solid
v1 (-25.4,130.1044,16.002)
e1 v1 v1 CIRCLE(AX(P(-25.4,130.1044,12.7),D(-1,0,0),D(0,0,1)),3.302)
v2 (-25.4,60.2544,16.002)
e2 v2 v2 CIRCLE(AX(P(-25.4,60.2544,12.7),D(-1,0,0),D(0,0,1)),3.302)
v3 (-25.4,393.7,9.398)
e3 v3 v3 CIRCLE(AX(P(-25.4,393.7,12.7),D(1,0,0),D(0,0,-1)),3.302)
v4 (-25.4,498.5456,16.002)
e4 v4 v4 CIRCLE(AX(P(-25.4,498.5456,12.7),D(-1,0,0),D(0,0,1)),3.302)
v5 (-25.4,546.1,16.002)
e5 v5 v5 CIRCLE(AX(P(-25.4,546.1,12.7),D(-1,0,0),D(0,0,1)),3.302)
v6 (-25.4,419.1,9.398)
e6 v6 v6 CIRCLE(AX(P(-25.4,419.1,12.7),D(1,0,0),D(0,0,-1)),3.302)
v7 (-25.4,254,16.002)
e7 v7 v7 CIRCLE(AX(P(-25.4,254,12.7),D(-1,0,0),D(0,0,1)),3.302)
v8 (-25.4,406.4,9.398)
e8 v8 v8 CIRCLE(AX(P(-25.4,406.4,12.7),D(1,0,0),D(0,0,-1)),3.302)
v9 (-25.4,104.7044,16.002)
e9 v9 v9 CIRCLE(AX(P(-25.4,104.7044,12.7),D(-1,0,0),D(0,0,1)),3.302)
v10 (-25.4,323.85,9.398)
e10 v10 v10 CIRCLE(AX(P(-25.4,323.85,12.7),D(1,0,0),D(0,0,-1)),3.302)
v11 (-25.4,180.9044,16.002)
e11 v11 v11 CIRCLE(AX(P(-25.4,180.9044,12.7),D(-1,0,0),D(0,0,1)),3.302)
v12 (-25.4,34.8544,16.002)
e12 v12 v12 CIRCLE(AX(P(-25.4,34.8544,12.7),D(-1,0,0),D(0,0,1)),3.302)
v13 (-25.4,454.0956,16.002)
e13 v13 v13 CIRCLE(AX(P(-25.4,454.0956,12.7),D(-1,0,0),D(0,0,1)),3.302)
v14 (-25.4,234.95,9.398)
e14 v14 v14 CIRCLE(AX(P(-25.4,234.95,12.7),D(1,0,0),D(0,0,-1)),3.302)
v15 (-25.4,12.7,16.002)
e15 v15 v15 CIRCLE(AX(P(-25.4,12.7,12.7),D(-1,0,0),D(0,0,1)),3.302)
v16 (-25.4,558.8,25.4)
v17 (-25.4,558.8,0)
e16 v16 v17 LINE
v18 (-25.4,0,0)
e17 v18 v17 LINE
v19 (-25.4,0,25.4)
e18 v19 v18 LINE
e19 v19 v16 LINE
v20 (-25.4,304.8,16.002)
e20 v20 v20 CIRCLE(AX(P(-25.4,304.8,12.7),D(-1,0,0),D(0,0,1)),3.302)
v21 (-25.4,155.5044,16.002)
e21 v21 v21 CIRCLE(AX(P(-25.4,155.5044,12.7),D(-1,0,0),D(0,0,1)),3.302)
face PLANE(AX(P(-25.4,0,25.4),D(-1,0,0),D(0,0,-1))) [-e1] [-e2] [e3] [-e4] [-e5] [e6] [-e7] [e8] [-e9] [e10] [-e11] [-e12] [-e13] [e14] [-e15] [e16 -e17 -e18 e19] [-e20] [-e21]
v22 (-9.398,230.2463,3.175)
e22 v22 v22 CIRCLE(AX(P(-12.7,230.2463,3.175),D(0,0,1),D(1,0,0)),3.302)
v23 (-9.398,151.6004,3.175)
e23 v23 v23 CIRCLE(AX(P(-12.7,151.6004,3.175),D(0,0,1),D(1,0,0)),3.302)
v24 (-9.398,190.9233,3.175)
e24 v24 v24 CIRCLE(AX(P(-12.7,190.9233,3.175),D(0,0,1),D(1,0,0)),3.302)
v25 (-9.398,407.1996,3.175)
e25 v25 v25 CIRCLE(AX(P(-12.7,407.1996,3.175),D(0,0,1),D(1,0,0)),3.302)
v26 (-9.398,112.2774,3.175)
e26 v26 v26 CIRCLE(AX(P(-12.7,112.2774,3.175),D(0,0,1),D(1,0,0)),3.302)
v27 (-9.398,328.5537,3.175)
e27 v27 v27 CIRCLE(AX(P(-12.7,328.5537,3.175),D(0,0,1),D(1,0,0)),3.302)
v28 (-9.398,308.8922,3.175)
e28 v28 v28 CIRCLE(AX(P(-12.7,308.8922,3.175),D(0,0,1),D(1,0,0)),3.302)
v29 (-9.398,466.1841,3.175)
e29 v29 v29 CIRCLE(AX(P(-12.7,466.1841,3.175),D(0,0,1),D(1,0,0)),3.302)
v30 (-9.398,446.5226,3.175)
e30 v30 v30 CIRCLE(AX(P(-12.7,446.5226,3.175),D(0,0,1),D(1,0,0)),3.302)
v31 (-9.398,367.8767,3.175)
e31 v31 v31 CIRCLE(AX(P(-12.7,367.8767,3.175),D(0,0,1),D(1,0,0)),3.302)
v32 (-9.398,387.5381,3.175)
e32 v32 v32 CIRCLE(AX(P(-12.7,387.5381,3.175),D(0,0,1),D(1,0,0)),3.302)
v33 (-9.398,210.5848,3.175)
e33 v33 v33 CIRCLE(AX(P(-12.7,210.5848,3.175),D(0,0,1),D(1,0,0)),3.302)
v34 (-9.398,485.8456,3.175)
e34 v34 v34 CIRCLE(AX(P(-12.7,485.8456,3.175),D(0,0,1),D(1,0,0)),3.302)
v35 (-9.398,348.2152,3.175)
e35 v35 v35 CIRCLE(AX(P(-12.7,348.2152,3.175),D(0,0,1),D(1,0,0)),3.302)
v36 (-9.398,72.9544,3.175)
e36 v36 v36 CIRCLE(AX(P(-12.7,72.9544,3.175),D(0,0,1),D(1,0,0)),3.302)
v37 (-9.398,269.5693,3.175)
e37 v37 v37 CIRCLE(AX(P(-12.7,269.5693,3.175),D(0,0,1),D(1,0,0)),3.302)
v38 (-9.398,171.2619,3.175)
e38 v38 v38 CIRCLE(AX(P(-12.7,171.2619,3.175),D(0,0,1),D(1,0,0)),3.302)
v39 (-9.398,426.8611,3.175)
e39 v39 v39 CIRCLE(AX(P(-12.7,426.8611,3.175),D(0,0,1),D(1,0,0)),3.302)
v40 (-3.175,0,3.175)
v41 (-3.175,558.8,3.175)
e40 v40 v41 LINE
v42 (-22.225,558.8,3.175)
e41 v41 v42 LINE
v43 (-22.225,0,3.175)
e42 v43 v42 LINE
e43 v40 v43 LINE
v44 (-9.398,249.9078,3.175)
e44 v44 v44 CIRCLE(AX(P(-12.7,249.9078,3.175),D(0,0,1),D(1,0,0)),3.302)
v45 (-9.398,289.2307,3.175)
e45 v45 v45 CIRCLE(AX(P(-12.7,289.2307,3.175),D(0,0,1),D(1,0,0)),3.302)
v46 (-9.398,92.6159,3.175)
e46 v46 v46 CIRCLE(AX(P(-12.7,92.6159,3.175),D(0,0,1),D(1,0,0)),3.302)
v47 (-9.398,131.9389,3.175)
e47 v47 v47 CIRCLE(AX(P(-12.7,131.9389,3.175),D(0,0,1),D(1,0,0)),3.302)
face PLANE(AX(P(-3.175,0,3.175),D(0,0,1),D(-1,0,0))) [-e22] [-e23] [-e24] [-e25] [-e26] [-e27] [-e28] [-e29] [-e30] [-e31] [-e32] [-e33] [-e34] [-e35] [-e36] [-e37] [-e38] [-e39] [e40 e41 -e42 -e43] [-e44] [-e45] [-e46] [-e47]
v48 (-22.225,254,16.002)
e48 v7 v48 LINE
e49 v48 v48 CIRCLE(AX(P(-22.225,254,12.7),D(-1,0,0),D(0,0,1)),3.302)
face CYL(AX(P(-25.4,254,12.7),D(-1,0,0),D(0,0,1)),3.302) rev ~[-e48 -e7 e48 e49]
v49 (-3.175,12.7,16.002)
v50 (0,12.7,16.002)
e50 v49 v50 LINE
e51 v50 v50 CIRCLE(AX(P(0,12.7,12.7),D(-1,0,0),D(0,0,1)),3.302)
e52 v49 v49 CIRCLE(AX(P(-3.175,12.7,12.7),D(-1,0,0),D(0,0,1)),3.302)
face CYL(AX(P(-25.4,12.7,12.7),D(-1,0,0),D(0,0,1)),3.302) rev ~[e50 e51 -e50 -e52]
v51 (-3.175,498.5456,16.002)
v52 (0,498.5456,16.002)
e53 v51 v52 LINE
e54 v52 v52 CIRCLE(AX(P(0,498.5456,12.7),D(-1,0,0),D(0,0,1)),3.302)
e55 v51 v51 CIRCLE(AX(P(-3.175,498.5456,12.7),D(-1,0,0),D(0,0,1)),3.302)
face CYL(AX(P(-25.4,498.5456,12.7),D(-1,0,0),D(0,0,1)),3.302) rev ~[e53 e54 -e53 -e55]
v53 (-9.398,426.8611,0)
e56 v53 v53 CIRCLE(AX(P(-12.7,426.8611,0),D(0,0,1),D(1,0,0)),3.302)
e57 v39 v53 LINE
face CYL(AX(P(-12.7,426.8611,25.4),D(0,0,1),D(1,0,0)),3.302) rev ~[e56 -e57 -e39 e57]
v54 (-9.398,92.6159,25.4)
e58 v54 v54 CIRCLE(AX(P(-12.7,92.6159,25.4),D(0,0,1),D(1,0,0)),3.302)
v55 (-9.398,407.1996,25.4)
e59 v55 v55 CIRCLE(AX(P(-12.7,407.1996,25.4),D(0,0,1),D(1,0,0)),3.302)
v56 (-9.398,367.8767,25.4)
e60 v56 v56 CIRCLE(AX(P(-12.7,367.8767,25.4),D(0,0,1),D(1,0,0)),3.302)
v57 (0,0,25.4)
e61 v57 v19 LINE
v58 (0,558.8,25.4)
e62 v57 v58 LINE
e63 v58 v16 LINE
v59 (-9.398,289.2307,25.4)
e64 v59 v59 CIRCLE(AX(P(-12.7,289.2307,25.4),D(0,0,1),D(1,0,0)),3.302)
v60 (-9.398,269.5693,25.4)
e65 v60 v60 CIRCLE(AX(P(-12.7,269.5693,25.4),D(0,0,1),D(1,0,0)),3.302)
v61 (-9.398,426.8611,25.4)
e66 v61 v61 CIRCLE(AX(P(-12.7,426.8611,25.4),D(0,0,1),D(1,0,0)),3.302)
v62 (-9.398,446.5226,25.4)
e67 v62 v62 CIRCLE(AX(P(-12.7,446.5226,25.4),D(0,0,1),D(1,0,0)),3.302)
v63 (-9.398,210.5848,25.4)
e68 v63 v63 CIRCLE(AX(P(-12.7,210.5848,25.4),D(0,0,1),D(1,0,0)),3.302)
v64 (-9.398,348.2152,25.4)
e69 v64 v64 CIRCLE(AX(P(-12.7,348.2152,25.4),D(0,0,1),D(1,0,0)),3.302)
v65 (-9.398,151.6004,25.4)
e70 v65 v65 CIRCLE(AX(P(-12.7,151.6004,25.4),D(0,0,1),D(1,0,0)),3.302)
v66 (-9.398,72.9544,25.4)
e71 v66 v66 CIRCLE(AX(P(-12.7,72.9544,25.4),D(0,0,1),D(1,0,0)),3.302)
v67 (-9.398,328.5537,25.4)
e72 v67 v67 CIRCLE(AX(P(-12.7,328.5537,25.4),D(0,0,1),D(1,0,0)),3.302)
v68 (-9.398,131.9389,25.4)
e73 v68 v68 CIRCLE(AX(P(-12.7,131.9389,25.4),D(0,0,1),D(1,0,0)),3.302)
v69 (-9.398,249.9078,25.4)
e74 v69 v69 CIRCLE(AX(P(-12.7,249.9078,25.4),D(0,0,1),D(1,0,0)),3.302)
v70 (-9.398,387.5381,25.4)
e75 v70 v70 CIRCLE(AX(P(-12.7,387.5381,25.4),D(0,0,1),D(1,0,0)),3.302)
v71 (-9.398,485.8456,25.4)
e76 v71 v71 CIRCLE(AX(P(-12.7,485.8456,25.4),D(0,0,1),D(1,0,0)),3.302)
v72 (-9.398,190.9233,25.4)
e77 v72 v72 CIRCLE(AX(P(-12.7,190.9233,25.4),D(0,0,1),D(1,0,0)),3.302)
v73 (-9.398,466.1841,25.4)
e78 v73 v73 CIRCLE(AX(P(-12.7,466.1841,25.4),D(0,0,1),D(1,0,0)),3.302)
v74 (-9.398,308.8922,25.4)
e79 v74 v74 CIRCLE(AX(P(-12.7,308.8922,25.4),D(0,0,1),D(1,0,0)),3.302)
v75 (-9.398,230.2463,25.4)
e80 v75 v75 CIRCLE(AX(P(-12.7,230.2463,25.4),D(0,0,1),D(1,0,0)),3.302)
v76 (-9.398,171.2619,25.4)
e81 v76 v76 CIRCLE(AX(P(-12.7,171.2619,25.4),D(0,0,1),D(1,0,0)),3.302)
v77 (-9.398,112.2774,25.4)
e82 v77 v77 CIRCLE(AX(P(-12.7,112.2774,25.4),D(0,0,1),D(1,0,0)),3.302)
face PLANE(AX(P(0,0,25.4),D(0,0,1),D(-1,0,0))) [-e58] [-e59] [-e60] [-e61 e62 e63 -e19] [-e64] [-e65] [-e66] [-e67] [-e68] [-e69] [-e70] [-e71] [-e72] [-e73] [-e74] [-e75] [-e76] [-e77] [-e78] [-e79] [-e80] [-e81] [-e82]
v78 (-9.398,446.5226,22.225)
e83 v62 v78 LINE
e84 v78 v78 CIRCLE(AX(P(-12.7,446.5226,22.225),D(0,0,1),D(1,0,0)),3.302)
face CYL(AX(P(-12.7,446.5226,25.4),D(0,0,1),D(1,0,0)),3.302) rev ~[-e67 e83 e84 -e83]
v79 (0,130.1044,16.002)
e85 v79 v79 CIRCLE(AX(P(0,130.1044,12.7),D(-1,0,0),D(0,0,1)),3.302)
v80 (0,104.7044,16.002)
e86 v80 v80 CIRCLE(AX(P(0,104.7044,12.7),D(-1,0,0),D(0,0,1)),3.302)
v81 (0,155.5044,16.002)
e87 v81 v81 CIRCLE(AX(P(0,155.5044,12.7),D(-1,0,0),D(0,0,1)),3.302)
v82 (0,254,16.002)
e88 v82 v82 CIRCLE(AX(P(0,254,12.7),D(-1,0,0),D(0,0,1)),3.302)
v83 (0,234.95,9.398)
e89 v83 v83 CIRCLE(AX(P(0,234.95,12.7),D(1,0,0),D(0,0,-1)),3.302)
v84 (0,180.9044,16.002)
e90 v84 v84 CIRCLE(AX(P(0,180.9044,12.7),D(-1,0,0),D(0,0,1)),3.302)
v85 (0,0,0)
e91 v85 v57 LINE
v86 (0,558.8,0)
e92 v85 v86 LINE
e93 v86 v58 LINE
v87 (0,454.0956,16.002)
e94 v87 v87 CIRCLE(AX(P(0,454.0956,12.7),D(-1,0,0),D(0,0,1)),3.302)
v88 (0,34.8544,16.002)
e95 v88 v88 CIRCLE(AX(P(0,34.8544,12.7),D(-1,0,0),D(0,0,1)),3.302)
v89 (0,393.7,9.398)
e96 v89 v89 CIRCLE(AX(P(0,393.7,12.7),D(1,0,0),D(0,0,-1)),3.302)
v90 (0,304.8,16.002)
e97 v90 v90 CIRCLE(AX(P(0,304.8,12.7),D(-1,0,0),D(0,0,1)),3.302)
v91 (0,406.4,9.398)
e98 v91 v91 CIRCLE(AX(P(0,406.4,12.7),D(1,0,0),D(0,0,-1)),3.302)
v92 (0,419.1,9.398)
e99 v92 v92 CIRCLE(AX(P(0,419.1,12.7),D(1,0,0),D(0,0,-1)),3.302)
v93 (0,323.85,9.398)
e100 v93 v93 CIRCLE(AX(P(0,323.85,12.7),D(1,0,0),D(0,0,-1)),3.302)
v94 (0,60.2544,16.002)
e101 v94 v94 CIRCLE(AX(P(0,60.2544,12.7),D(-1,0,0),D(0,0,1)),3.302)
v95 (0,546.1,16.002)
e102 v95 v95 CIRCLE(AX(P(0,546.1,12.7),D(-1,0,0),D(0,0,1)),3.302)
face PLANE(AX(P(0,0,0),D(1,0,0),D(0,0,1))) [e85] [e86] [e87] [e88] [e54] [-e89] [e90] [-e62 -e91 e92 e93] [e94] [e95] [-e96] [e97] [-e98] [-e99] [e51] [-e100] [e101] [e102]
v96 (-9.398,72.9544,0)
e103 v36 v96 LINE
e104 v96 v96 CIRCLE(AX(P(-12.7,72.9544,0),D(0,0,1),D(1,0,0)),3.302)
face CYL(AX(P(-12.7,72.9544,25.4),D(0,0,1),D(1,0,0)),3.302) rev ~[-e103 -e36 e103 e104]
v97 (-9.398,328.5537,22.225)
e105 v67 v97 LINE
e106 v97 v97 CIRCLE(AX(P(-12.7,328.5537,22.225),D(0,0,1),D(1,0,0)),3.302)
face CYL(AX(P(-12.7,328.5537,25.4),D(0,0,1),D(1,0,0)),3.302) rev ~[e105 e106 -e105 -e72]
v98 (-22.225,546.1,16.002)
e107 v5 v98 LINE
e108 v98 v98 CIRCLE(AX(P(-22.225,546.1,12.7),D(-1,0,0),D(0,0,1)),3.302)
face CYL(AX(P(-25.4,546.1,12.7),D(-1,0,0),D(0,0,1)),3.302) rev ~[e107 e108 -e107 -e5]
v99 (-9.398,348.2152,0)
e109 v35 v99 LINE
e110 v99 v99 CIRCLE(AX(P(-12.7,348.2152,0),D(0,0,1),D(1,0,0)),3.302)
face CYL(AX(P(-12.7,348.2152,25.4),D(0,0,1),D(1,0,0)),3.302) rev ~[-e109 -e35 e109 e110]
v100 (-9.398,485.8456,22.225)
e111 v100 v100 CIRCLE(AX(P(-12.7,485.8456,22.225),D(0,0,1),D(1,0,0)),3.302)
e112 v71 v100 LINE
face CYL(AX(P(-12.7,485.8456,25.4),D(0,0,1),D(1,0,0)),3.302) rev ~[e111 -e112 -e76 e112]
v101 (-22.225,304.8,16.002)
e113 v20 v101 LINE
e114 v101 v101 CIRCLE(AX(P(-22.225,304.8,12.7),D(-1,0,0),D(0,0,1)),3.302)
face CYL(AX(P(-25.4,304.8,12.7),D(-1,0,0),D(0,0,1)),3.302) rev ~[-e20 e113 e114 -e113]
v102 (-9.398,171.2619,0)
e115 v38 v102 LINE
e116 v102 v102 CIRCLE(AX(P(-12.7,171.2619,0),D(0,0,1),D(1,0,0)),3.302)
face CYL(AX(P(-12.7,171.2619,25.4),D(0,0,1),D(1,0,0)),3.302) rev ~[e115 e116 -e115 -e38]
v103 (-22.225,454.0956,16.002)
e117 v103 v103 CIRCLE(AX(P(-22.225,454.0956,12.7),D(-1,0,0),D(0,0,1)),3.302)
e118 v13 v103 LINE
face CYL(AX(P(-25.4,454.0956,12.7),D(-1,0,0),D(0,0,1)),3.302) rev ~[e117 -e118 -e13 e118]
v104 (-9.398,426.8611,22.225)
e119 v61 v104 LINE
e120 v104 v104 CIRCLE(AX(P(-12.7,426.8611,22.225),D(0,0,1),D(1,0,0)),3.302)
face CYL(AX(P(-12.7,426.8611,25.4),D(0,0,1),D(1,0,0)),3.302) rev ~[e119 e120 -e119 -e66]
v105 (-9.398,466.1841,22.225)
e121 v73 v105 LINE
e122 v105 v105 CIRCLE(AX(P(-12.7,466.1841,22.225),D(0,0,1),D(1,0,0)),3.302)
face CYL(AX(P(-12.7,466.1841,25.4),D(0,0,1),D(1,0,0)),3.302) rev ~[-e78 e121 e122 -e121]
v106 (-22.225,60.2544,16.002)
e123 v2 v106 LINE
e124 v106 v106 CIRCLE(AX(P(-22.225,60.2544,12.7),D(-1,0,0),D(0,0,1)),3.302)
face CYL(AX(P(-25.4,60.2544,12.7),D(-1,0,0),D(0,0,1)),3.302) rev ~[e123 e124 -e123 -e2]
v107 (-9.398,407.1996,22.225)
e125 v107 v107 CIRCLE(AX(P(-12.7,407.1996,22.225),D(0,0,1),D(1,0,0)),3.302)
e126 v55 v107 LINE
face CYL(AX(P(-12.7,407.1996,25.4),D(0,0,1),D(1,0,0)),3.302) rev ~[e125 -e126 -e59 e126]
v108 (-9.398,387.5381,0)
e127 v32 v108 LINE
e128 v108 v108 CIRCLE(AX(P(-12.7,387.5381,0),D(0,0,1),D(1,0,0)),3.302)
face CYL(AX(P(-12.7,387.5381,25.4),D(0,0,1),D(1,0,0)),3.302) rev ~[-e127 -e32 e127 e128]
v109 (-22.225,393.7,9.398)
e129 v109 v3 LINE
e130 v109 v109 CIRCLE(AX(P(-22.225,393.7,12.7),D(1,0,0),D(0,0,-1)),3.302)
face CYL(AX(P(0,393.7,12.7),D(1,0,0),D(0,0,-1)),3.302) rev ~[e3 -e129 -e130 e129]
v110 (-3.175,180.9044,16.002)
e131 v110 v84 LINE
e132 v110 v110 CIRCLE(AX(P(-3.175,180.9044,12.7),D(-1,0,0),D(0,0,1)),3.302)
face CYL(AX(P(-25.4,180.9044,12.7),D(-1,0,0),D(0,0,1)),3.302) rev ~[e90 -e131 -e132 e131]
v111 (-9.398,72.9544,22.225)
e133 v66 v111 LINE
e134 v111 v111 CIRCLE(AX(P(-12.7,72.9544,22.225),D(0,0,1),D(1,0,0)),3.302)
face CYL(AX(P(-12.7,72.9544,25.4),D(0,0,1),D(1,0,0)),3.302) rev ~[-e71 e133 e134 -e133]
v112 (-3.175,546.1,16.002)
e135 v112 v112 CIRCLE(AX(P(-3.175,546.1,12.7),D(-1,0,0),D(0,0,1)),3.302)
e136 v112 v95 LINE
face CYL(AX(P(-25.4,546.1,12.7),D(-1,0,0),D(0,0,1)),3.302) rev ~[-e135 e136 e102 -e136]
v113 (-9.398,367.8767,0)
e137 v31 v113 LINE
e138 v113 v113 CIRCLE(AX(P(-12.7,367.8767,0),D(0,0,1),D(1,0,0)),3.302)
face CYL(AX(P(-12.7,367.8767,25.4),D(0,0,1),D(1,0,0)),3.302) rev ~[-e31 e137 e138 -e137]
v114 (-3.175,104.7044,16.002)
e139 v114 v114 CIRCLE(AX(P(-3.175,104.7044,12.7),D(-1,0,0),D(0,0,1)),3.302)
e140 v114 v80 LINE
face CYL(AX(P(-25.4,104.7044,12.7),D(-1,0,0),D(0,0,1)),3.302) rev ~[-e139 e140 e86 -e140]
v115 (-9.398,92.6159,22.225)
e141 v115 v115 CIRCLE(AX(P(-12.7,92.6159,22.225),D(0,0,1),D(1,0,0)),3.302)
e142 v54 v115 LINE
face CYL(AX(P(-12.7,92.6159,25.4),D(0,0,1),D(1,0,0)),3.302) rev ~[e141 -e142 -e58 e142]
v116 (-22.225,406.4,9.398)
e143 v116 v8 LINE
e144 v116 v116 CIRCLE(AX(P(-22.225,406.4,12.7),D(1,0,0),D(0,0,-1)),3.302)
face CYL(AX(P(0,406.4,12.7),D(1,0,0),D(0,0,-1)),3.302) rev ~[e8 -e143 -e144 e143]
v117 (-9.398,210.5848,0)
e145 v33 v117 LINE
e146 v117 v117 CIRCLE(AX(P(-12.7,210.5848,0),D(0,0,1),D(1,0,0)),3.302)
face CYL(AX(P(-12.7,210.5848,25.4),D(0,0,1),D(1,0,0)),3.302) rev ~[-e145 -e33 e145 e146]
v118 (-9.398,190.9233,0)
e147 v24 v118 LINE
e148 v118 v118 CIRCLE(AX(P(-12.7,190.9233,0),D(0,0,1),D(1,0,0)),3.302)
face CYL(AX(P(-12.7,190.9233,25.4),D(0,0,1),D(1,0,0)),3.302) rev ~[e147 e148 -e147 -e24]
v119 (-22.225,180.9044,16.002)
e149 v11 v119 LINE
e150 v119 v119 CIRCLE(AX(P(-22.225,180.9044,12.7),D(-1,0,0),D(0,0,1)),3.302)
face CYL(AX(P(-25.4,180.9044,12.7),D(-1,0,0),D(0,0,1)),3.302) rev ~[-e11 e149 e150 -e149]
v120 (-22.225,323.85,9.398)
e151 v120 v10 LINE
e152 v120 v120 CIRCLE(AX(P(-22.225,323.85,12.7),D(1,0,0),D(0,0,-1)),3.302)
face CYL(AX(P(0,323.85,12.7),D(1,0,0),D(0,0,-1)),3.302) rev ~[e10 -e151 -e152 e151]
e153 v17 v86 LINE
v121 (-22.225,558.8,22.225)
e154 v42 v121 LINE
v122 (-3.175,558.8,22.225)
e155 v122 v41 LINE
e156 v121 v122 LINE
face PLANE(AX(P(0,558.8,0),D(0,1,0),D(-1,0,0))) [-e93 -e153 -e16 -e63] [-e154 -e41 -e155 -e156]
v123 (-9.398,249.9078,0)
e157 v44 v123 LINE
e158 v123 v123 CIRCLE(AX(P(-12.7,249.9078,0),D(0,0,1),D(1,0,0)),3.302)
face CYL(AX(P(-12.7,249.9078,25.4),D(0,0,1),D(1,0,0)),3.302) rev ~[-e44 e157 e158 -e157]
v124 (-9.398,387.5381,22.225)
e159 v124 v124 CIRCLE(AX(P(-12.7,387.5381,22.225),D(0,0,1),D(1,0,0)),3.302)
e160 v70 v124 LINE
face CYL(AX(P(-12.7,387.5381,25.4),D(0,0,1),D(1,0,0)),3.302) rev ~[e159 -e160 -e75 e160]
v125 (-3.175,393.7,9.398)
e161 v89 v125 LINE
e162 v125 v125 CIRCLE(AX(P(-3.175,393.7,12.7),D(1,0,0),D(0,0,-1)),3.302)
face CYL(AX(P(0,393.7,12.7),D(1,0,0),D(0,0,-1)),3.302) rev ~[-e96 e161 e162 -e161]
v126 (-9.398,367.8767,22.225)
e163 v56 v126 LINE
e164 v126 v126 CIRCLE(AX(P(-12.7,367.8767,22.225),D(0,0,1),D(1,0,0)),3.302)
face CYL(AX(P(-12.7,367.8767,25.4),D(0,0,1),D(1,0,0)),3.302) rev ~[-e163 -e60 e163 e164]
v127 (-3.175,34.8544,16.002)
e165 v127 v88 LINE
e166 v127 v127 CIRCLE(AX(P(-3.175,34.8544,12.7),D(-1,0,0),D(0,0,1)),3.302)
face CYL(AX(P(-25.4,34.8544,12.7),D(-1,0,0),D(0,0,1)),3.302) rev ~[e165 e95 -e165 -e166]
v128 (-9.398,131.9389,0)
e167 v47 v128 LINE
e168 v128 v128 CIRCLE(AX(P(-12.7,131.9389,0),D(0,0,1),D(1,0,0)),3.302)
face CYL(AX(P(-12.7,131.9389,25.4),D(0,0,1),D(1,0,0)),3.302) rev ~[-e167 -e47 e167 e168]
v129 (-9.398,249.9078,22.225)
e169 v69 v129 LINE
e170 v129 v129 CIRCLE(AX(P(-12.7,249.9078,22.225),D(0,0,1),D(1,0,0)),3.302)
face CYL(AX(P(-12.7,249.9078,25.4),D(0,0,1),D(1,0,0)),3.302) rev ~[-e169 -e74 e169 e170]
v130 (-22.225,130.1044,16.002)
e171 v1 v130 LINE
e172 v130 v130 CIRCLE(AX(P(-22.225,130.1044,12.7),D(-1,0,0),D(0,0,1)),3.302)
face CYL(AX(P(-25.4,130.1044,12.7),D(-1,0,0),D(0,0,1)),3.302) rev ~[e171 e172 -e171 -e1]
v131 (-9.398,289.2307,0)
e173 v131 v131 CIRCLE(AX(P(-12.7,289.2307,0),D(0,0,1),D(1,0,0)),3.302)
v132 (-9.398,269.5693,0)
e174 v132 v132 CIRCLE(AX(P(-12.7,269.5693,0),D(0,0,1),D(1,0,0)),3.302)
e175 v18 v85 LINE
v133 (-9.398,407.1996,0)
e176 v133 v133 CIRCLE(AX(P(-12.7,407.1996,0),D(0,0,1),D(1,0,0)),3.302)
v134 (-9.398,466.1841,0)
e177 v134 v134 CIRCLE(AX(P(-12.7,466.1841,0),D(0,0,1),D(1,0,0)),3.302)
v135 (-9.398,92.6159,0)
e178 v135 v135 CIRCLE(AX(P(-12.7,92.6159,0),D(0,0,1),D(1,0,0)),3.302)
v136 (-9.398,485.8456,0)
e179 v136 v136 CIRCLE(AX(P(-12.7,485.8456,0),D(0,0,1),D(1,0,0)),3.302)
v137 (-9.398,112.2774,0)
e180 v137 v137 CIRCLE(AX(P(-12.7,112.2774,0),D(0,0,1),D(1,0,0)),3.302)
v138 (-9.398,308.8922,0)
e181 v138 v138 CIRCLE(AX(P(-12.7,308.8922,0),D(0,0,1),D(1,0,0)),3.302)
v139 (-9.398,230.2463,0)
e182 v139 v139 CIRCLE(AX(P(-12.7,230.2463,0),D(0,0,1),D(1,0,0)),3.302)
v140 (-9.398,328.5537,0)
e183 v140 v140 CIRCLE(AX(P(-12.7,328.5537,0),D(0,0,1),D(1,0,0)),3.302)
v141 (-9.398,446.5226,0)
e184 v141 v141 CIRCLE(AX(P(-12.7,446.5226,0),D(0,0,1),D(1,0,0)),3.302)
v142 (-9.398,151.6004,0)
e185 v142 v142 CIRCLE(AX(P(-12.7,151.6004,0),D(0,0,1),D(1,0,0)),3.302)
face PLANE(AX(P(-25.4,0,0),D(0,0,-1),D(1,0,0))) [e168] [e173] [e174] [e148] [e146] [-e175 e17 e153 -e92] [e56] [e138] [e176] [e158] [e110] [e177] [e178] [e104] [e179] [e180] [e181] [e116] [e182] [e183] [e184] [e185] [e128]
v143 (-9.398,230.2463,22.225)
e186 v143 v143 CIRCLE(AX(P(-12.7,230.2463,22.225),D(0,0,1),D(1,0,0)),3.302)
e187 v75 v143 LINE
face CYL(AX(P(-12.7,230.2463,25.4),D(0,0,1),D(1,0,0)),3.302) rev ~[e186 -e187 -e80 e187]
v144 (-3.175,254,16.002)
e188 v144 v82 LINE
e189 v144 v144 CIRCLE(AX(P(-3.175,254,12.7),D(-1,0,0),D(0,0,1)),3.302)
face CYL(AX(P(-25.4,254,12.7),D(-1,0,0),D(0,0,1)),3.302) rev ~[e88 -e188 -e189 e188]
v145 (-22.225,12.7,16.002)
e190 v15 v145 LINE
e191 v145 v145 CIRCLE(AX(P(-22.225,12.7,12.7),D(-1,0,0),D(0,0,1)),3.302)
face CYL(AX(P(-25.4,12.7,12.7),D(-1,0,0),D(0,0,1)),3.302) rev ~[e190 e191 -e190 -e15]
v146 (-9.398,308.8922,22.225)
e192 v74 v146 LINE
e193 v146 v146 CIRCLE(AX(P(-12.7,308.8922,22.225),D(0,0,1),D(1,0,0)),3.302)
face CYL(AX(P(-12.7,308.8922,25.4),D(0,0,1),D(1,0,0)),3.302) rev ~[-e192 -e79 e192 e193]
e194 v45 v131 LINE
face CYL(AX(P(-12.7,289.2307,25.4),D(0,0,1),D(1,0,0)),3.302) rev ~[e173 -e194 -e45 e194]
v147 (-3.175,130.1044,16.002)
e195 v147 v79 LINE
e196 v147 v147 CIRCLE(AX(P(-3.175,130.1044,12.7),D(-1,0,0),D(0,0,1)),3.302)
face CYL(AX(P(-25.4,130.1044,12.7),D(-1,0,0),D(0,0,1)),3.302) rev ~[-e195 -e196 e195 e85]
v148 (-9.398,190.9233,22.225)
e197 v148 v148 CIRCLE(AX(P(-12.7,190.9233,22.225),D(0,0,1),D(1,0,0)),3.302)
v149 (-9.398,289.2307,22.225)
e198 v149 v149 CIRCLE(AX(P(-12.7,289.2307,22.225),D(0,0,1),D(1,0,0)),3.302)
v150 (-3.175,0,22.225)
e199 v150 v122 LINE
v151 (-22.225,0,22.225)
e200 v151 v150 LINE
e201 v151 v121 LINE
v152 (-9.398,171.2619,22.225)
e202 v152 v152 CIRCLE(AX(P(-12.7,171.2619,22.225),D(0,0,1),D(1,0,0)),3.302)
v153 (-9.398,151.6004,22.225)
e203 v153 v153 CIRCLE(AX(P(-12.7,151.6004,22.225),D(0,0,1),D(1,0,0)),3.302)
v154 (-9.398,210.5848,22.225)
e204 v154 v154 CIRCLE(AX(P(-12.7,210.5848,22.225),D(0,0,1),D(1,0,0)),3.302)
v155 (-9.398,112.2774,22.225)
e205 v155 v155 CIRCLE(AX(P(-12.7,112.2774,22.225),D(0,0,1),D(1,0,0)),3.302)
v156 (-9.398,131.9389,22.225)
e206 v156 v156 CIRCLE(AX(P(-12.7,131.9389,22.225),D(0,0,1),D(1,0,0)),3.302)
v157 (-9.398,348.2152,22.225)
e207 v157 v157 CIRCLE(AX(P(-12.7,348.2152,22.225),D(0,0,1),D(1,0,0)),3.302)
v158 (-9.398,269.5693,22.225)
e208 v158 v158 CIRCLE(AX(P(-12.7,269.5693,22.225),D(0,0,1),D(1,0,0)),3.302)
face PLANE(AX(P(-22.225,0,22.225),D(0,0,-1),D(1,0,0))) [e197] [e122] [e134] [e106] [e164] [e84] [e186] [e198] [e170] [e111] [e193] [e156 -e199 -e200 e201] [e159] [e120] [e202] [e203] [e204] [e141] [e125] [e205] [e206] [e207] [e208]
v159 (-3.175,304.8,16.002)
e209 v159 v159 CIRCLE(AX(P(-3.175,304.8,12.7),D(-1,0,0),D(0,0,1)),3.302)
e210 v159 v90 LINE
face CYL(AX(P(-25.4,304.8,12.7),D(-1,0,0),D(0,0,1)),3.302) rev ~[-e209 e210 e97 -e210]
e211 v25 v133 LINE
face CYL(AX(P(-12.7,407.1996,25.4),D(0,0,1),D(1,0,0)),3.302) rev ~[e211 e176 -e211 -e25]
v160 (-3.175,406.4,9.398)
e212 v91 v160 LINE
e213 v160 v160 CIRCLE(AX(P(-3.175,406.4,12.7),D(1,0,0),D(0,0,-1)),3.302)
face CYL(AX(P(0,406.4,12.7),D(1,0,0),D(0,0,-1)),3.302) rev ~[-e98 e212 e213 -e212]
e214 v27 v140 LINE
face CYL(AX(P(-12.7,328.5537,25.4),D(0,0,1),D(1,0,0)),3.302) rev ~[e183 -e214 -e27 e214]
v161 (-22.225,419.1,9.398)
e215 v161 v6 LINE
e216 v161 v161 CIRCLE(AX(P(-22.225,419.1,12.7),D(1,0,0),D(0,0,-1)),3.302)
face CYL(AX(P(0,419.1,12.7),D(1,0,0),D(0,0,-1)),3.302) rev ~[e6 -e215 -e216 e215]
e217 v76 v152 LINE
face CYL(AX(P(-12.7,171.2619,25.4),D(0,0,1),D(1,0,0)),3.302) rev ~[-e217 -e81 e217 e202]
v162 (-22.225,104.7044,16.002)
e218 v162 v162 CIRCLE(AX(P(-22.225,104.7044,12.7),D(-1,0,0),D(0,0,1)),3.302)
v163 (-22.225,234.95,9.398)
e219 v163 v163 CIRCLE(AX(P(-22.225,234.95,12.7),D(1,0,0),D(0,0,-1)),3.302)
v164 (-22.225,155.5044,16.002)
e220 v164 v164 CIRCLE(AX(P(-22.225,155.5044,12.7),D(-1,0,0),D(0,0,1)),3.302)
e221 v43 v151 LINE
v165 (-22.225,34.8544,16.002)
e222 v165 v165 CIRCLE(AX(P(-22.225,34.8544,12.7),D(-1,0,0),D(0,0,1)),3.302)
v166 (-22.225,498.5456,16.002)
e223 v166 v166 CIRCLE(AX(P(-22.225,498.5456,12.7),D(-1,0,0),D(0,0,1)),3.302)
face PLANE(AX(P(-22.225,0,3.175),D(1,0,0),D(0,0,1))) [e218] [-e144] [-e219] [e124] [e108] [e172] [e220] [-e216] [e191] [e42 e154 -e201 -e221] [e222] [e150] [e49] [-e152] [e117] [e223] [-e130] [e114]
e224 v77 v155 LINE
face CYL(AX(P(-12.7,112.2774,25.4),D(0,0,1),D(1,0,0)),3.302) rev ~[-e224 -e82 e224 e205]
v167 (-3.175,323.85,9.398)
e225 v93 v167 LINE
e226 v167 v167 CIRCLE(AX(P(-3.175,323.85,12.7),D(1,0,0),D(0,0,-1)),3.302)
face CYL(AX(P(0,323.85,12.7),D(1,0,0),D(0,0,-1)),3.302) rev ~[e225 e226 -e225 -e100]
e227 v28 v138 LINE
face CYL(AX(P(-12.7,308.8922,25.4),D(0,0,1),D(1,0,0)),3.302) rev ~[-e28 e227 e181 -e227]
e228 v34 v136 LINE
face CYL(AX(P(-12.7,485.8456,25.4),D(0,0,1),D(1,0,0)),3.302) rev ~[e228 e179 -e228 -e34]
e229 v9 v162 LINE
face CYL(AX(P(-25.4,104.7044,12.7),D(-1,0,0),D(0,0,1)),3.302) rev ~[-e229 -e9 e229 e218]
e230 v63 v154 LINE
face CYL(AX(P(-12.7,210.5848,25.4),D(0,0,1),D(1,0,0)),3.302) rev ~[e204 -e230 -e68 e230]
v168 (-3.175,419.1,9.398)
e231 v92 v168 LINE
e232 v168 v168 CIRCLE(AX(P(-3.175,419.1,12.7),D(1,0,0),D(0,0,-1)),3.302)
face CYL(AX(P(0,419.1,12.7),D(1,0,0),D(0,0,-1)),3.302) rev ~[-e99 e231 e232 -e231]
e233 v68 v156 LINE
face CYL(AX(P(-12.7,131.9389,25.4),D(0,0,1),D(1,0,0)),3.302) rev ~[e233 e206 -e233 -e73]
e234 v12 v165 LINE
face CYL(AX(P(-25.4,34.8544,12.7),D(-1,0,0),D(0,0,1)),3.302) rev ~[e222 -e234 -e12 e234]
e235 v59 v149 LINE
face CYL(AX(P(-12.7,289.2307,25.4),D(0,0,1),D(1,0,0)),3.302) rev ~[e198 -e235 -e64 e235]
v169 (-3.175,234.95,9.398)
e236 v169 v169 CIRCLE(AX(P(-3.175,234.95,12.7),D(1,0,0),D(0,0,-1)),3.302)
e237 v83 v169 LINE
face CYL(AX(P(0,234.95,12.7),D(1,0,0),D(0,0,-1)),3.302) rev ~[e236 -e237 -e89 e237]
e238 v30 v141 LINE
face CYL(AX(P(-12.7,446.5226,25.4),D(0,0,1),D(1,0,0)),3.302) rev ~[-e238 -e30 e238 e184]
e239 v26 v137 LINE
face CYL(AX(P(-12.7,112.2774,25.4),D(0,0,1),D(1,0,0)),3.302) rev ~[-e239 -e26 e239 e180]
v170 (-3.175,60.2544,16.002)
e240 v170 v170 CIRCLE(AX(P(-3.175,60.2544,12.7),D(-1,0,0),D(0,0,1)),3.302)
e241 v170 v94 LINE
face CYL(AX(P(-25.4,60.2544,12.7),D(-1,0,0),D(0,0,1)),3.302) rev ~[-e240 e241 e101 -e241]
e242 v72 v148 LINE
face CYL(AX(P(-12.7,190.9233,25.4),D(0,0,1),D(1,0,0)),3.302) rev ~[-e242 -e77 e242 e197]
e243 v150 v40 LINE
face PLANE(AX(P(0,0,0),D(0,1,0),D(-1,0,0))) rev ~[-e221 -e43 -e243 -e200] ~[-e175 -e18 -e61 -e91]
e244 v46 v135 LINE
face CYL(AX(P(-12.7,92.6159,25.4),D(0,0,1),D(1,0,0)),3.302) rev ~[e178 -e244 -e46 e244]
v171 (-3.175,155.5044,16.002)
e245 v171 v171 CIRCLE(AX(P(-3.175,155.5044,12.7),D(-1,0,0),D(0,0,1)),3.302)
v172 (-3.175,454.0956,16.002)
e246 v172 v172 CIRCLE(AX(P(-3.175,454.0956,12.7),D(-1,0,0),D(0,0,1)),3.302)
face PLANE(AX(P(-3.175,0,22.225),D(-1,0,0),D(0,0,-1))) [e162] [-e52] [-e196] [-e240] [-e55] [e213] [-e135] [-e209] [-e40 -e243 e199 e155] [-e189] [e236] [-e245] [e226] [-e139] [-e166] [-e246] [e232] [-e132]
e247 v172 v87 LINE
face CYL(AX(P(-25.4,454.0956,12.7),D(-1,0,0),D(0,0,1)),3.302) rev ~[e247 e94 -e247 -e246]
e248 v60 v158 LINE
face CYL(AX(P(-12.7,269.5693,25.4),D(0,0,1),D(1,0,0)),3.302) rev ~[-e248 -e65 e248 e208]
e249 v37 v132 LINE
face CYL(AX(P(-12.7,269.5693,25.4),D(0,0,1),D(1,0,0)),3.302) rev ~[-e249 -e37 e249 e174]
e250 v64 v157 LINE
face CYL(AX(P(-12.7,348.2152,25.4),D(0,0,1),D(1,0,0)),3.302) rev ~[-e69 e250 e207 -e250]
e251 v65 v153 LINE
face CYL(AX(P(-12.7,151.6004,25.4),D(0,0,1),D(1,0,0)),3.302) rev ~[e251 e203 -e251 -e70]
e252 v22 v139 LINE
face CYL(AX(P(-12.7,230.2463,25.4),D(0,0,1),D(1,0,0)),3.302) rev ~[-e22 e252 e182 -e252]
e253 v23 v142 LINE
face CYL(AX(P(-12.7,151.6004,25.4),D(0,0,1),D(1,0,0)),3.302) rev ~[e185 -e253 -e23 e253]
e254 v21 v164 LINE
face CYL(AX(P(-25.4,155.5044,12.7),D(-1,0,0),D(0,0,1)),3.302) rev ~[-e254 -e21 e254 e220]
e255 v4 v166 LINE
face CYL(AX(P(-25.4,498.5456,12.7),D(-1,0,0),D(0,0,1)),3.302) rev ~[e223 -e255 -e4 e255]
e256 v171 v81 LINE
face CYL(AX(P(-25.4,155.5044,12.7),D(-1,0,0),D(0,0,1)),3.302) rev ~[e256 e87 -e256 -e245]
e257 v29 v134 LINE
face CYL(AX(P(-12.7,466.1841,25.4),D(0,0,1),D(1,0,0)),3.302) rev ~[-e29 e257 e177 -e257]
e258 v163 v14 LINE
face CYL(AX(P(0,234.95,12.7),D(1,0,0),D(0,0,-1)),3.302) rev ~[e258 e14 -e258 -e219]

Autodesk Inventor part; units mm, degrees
ref_plane "YZ Plane" through (0, 0, 0) normal (1, 0, 0) x (0, 1, 0)
ref_plane "XZ Plane" through (0, 0, 0) normal (0, 1, 0) x (-1, 0, 0)
ref_plane "XY Plane" through (0, 0, 0) normal (0, 0, 1) x (1, 0, 0)
sketch "Sketch1" plane through (0, 0, 0) normal (0, 1, 0) x (-1, 0, 0)
  line L0 (0, 25.4) -> (25.4, 25.4)
  line L1 (25.4, 25.4) -> (25.4, 0)
  line L2 (25.4, 0) -> (0, 0)
  line L3 (0, 0) -> (0, 25.4)
  line L4 (22.225, 22.225) -> (3.175, 22.225)
  line L5 (3.175, 22.225) -> (3.175, 3.175)
  line L6 (3.175, 3.175) -> (22.225, 3.175)
  line L7 (22.225, 3.175) -> (22.225, 22.225)
  dimension "d0" = 25.4
  dimension "d1" = 25.4
  dimension "d2" = 3.175
extrude "Extrusion1" add sketch "Sketch1" along normal blind 558.8
sketch "Sketch2" plane through (-25.4, 0, 25.4) normal (0, 0, 1) x (1, 0, 0)
  line L0 (25.4, 0) -> (0, 0) projected
  line L1 (0, 558.8) -> (25.4, 558.8) projected
  line L2 (12.7, 558.8) -> (12.7, 0) construction
  line L3 (12.7, 0) -> (12.7, 13.97) construction
  circle A0 centre (12.7, 13.97) radius 3.302
  circle A1 centre (12.7, 33.6315) radius 3.302
  circle A2 centre (12.7, 53.293) radius 3.302
  circle A3 centre (12.7, 72.9544) radius 3.302
  circle A4 centre (12.7, 92.6159) radius 3.302
  circle A5 centre (12.7, 112.2774) radius 3.302
  circle A6 centre (12.7, 131.9389) radius 3.302
  circle A7 centre (12.7, 151.6004) radius 3.302
  circle A8 centre (12.7, 171.2619) radius 3.302
  circle A9 centre (12.7, 190.9233) radius 3.302
  circle A10 centre (12.7, 210.5848) radius 3.302
  circle A11 centre (12.7, 230.2463) radius 3.302
  circle A12 centre (12.7, 249.9078) radius 3.302
  circle A13 centre (12.7, 269.5693) radius 3.302
  circle A14 centre (12.7, 289.2307) radius 3.302
  circle A15 centre (12.7, 308.8922) radius 3.302
  circle A16 centre (12.7, 328.5537) radius 3.302
  circle A17 centre (12.7, 348.2152) radius 3.302
  circle A18 centre (12.7, 367.8767) radius 3.302
  circle A19 centre (12.7, 387.5381) radius 3.302
  circle A20 centre (12.7, 407.1996) radius 3.302
  circle A21 centre (12.7, 426.8611) radius 3.302
  circle A22 centre (12.7, 446.5226) radius 3.302
  circle A23 centre (12.7, 466.1841) radius 3.302
  circle A24 centre (12.7, 485.8456) radius 3.302
  circle A25 centre (12.7, 505.507) radius 3.302
  circle A26 centre (12.7, 525.1685) radius 3.302
  circle A27 centre (12.7, 544.83) radius 3.302
  dimension "d5" = 13.97
  dimension "d6" = 6.604
  dimension "d7" = 558.8
  dimension "d10" = 19.6615
extrude "Extrusion2" cut sketch "Sketch2" against normal through all contours A3 | A4 | A5 | A6 | A7 | A8 | A9 | A10 | A11 | A12 | A13 | A14 | A15 | A16 | A17 | A18 | A19 | A20 | A21 | A22 | A23 | A24
sketch "Sketch3" plane through (-25.4, 0, 0) normal (-1, 0, 0) x (0, 0, 1)
  line L0 (25.4, 0) -> (25.4, 558.8) projected
  line L1 (0, 0) -> (0, 558.8) projected
  line L2 (22.225, 482.5436) -> (22.225, 489.1476) construction
  line L3 (22.225, 344.9132) -> (22.225, 351.5172) construction
  line L4 (22.225, 207.2828) -> (22.225, 213.8868) construction
  line L5 (22.225, 69.6524) -> (22.225, 76.2564) construction
  line L6 (25.4, 485.8456) -> (0, 485.8456) construction
  line L7 (0, 348.2152) -> (25.4, 348.2152) construction
  line L8 (0, 210.5848) -> (25.4, 210.5848) construction
  line L9 (0, 72.9544) -> (25.4, 72.9544) construction
  line L10 (12.7, 498.5456) -> (12.7, 454.0956) construction
  line L11 (12.7, 373.6152) -> (12.7, 322.8152) construction
  line L12 (12.7, 232.8098) -> (12.7, 188.3598) construction
  line L13 (12.7, 104.7044) -> (12.7, 60.2544) construction
  circle A0 centre (12.7, 498.5456) radius 3.302
  circle A1 centre (12.7, 454.0956) radius 3.302
  circle A2 centre (12.7, 373.6152) radius 3.302
  circle A3 centre (12.7, 322.8152) radius 3.302
  circle A4 centre (12.7, 232.8098) radius 3.302
  circle A5 centre (12.7, 188.3598) radius 3.302 construction
  circle A6 centre (12.7, 104.7044) radius 3.302
  circle A7 centre (12.7, 60.2544) radius 3.302
  line L14 (0, 279.4) -> (25.4, 279.4) construction
  line L15 (12.7, 304.8) -> (12.7, 254) construction
  circle A8 centre (12.7, 304.8) radius 3.302
  circle A9 centre (12.7, 254) radius 3.302
  line L16 (25.4, 0) -> (0, 0) projected
  line L17 (0, 558.8) -> (25.4, 558.8) projected
  circle A10 centre (12.7, 546.1) radius 3.302
  line L18 (12.7, 546.1) -> (12.7, 558.8) construction
  line L19 (12.7, 0) -> (12.7, 12.7) construction
  circle A11 centre (12.7, 12.7) radius 3.302
  line L20 (0, 82.4794) -> (25.4, 82.4794) construction
  line L21 (0, 476.3206) -> (25.4, 476.3206) construction
  line L22 (12.7, 12.7) -> (12.7, 34.8544) construction
  circle A12 centre (12.7, 34.8544) radius 3.302
  line L23 (12.7, 104.7044) -> (12.7, 130.1044) construction
  circle A13 centre (12.7, 130.1044) radius 3.302
  line L24 (12.7, 130.1044) -> (12.7, 155.5044) construction
  circle A14 centre (12.7, 155.5044) radius 3.302
  circle A15 centre (12.7, 180.9044) radius 3.302
  line L25 (12.7, 180.9044) -> (12.7, 155.5044) construction
  point P0 (22.225, 485.8456)
  point P1 (22.225, 348.2152)
  point P2 (22.225, 72.9544)
  point P3 (22.225, 210.5848)
  point P4 (12.7, 210.5848)
  point P5 (12.7, 348.2152)
  point P6 (12.7, 279.4)
  point P7 (12.7, 82.4794)
  point P8 (12.7, 476.3206)
  dimension "d17" = 44.45
  dimension "d18" = 50.8
  dimension "d19" = 44.45
  dimension "d20" = 44.45
  dimension "d21" = 6.604
  dimension "d22" = 6.604
  dimension "d23" = 6.604
  dimension "d24" = 6.604
  dimension "d25" = 6.604
  dimension "d26" = 6.604
  dimension "d27" = 6.604
  dimension "d28" = 6.604
  dimension "d31" = 50.8
  dimension "d32" = 6.604
  dimension "d33" = 6.604
  dimension "d40" = 12.7
  dimension "d41" = 6.604
  dimension "d42" = 12.7
  dimension "d43" = 6.604
  dimension "d44" = 9.525
  dimension "d45" = 9.525
  dimension "d60" = 25.4
  dimension "d61" = 6.604
  dimension "d62" = 25.4
  dimension "d63" = 6.604
  dimension "d64" = 25.4
  dimension "d65" = 6.604
extrude "Extrusion3" cut sketch "Sketch3" against normal through all contours A0 | A1 | A6 | A7 | A8 | A9 | A10 | A11 | A12 | A13 | A14 | A15
sketch "Sketch4" plane through (0, 0, 25.4) normal (1, 0, 0) x (0, 0, -1)
  circle A0 centre (12.7, 304.8) radius 3.302 projected
  circle A1 centre (12.7, 254) radius 3.302 projected
  line L0 (0, 0) -> (0, 558.8) projected
  line L1 (12.7, 304.8) -> (12.7, 323.85) construction
  line L2 (12.7, 254) -> (12.7, 234.95) construction
  circle A2 centre (12.7, 323.85) radius 3.302
  circle A3 centre (12.7, 234.95) radius 3.302
  line L3 (25.4, 0) -> (0, 0) projected
  line L4 (0, 558.8) -> (25.4, 558.8) projected
  line L5 (12.7, 558.8) -> (12.7, 0) construction
  circle A4 centre (12.7, 431.8) radius 3.302
  circle A5 centre (12.7, 406.4) radius 3.302
  circle A6 centre (12.7, 393.7) radius 3.302
  circle A7 centre (12.7, 419.1) radius 3.302
  circle A8 centre (12.7, 444.5) radius 3.302
  dimension "d46" = 19.05
  dimension "d47" = 19.05
  dimension "d48" = 6.604
  dimension "d49" = 6.604
  dimension "d52" = 6.604
  dimension "d53" = 139.7
  dimension "d54" = 12.7
  dimension "d55" = 12.7
  dimension "d56" = 12.7
  dimension "d57" = 12.7
extrude "Extrusion4" cut sketch "Sketch4" against normal blind 25.4 contours A2 | A3 | A5 | A6 | A7
equation "\"d19\" = d17"
equation "\"d20\" = d17"
equation "\"d22\" = d21"
equation "\"d23\" = d21"
equation "\"d24\" = d21"
equation "\"d25\" = d21"
equation "\"d26\" = d21"
equation "\"d27\" = d21"
equation "\"d28\" = d21"
equation "\"d31\" = d18"
equation "\"d32\" = d21"
equation "\"d33\" = d21"
equation "\"d41\" = d21"
equation "\"d42\" = d40"
equation "\"d43\" = d21"
equation "\"d45\" = d44"
equation "\"d61\" = d63"
equation "\"d55\" = d54"
equation "\"d56\" = d55"
equation "\"d57\" = d54"
properties part number "Chassis V1.500 Part4" material "Aluminum 6061"
